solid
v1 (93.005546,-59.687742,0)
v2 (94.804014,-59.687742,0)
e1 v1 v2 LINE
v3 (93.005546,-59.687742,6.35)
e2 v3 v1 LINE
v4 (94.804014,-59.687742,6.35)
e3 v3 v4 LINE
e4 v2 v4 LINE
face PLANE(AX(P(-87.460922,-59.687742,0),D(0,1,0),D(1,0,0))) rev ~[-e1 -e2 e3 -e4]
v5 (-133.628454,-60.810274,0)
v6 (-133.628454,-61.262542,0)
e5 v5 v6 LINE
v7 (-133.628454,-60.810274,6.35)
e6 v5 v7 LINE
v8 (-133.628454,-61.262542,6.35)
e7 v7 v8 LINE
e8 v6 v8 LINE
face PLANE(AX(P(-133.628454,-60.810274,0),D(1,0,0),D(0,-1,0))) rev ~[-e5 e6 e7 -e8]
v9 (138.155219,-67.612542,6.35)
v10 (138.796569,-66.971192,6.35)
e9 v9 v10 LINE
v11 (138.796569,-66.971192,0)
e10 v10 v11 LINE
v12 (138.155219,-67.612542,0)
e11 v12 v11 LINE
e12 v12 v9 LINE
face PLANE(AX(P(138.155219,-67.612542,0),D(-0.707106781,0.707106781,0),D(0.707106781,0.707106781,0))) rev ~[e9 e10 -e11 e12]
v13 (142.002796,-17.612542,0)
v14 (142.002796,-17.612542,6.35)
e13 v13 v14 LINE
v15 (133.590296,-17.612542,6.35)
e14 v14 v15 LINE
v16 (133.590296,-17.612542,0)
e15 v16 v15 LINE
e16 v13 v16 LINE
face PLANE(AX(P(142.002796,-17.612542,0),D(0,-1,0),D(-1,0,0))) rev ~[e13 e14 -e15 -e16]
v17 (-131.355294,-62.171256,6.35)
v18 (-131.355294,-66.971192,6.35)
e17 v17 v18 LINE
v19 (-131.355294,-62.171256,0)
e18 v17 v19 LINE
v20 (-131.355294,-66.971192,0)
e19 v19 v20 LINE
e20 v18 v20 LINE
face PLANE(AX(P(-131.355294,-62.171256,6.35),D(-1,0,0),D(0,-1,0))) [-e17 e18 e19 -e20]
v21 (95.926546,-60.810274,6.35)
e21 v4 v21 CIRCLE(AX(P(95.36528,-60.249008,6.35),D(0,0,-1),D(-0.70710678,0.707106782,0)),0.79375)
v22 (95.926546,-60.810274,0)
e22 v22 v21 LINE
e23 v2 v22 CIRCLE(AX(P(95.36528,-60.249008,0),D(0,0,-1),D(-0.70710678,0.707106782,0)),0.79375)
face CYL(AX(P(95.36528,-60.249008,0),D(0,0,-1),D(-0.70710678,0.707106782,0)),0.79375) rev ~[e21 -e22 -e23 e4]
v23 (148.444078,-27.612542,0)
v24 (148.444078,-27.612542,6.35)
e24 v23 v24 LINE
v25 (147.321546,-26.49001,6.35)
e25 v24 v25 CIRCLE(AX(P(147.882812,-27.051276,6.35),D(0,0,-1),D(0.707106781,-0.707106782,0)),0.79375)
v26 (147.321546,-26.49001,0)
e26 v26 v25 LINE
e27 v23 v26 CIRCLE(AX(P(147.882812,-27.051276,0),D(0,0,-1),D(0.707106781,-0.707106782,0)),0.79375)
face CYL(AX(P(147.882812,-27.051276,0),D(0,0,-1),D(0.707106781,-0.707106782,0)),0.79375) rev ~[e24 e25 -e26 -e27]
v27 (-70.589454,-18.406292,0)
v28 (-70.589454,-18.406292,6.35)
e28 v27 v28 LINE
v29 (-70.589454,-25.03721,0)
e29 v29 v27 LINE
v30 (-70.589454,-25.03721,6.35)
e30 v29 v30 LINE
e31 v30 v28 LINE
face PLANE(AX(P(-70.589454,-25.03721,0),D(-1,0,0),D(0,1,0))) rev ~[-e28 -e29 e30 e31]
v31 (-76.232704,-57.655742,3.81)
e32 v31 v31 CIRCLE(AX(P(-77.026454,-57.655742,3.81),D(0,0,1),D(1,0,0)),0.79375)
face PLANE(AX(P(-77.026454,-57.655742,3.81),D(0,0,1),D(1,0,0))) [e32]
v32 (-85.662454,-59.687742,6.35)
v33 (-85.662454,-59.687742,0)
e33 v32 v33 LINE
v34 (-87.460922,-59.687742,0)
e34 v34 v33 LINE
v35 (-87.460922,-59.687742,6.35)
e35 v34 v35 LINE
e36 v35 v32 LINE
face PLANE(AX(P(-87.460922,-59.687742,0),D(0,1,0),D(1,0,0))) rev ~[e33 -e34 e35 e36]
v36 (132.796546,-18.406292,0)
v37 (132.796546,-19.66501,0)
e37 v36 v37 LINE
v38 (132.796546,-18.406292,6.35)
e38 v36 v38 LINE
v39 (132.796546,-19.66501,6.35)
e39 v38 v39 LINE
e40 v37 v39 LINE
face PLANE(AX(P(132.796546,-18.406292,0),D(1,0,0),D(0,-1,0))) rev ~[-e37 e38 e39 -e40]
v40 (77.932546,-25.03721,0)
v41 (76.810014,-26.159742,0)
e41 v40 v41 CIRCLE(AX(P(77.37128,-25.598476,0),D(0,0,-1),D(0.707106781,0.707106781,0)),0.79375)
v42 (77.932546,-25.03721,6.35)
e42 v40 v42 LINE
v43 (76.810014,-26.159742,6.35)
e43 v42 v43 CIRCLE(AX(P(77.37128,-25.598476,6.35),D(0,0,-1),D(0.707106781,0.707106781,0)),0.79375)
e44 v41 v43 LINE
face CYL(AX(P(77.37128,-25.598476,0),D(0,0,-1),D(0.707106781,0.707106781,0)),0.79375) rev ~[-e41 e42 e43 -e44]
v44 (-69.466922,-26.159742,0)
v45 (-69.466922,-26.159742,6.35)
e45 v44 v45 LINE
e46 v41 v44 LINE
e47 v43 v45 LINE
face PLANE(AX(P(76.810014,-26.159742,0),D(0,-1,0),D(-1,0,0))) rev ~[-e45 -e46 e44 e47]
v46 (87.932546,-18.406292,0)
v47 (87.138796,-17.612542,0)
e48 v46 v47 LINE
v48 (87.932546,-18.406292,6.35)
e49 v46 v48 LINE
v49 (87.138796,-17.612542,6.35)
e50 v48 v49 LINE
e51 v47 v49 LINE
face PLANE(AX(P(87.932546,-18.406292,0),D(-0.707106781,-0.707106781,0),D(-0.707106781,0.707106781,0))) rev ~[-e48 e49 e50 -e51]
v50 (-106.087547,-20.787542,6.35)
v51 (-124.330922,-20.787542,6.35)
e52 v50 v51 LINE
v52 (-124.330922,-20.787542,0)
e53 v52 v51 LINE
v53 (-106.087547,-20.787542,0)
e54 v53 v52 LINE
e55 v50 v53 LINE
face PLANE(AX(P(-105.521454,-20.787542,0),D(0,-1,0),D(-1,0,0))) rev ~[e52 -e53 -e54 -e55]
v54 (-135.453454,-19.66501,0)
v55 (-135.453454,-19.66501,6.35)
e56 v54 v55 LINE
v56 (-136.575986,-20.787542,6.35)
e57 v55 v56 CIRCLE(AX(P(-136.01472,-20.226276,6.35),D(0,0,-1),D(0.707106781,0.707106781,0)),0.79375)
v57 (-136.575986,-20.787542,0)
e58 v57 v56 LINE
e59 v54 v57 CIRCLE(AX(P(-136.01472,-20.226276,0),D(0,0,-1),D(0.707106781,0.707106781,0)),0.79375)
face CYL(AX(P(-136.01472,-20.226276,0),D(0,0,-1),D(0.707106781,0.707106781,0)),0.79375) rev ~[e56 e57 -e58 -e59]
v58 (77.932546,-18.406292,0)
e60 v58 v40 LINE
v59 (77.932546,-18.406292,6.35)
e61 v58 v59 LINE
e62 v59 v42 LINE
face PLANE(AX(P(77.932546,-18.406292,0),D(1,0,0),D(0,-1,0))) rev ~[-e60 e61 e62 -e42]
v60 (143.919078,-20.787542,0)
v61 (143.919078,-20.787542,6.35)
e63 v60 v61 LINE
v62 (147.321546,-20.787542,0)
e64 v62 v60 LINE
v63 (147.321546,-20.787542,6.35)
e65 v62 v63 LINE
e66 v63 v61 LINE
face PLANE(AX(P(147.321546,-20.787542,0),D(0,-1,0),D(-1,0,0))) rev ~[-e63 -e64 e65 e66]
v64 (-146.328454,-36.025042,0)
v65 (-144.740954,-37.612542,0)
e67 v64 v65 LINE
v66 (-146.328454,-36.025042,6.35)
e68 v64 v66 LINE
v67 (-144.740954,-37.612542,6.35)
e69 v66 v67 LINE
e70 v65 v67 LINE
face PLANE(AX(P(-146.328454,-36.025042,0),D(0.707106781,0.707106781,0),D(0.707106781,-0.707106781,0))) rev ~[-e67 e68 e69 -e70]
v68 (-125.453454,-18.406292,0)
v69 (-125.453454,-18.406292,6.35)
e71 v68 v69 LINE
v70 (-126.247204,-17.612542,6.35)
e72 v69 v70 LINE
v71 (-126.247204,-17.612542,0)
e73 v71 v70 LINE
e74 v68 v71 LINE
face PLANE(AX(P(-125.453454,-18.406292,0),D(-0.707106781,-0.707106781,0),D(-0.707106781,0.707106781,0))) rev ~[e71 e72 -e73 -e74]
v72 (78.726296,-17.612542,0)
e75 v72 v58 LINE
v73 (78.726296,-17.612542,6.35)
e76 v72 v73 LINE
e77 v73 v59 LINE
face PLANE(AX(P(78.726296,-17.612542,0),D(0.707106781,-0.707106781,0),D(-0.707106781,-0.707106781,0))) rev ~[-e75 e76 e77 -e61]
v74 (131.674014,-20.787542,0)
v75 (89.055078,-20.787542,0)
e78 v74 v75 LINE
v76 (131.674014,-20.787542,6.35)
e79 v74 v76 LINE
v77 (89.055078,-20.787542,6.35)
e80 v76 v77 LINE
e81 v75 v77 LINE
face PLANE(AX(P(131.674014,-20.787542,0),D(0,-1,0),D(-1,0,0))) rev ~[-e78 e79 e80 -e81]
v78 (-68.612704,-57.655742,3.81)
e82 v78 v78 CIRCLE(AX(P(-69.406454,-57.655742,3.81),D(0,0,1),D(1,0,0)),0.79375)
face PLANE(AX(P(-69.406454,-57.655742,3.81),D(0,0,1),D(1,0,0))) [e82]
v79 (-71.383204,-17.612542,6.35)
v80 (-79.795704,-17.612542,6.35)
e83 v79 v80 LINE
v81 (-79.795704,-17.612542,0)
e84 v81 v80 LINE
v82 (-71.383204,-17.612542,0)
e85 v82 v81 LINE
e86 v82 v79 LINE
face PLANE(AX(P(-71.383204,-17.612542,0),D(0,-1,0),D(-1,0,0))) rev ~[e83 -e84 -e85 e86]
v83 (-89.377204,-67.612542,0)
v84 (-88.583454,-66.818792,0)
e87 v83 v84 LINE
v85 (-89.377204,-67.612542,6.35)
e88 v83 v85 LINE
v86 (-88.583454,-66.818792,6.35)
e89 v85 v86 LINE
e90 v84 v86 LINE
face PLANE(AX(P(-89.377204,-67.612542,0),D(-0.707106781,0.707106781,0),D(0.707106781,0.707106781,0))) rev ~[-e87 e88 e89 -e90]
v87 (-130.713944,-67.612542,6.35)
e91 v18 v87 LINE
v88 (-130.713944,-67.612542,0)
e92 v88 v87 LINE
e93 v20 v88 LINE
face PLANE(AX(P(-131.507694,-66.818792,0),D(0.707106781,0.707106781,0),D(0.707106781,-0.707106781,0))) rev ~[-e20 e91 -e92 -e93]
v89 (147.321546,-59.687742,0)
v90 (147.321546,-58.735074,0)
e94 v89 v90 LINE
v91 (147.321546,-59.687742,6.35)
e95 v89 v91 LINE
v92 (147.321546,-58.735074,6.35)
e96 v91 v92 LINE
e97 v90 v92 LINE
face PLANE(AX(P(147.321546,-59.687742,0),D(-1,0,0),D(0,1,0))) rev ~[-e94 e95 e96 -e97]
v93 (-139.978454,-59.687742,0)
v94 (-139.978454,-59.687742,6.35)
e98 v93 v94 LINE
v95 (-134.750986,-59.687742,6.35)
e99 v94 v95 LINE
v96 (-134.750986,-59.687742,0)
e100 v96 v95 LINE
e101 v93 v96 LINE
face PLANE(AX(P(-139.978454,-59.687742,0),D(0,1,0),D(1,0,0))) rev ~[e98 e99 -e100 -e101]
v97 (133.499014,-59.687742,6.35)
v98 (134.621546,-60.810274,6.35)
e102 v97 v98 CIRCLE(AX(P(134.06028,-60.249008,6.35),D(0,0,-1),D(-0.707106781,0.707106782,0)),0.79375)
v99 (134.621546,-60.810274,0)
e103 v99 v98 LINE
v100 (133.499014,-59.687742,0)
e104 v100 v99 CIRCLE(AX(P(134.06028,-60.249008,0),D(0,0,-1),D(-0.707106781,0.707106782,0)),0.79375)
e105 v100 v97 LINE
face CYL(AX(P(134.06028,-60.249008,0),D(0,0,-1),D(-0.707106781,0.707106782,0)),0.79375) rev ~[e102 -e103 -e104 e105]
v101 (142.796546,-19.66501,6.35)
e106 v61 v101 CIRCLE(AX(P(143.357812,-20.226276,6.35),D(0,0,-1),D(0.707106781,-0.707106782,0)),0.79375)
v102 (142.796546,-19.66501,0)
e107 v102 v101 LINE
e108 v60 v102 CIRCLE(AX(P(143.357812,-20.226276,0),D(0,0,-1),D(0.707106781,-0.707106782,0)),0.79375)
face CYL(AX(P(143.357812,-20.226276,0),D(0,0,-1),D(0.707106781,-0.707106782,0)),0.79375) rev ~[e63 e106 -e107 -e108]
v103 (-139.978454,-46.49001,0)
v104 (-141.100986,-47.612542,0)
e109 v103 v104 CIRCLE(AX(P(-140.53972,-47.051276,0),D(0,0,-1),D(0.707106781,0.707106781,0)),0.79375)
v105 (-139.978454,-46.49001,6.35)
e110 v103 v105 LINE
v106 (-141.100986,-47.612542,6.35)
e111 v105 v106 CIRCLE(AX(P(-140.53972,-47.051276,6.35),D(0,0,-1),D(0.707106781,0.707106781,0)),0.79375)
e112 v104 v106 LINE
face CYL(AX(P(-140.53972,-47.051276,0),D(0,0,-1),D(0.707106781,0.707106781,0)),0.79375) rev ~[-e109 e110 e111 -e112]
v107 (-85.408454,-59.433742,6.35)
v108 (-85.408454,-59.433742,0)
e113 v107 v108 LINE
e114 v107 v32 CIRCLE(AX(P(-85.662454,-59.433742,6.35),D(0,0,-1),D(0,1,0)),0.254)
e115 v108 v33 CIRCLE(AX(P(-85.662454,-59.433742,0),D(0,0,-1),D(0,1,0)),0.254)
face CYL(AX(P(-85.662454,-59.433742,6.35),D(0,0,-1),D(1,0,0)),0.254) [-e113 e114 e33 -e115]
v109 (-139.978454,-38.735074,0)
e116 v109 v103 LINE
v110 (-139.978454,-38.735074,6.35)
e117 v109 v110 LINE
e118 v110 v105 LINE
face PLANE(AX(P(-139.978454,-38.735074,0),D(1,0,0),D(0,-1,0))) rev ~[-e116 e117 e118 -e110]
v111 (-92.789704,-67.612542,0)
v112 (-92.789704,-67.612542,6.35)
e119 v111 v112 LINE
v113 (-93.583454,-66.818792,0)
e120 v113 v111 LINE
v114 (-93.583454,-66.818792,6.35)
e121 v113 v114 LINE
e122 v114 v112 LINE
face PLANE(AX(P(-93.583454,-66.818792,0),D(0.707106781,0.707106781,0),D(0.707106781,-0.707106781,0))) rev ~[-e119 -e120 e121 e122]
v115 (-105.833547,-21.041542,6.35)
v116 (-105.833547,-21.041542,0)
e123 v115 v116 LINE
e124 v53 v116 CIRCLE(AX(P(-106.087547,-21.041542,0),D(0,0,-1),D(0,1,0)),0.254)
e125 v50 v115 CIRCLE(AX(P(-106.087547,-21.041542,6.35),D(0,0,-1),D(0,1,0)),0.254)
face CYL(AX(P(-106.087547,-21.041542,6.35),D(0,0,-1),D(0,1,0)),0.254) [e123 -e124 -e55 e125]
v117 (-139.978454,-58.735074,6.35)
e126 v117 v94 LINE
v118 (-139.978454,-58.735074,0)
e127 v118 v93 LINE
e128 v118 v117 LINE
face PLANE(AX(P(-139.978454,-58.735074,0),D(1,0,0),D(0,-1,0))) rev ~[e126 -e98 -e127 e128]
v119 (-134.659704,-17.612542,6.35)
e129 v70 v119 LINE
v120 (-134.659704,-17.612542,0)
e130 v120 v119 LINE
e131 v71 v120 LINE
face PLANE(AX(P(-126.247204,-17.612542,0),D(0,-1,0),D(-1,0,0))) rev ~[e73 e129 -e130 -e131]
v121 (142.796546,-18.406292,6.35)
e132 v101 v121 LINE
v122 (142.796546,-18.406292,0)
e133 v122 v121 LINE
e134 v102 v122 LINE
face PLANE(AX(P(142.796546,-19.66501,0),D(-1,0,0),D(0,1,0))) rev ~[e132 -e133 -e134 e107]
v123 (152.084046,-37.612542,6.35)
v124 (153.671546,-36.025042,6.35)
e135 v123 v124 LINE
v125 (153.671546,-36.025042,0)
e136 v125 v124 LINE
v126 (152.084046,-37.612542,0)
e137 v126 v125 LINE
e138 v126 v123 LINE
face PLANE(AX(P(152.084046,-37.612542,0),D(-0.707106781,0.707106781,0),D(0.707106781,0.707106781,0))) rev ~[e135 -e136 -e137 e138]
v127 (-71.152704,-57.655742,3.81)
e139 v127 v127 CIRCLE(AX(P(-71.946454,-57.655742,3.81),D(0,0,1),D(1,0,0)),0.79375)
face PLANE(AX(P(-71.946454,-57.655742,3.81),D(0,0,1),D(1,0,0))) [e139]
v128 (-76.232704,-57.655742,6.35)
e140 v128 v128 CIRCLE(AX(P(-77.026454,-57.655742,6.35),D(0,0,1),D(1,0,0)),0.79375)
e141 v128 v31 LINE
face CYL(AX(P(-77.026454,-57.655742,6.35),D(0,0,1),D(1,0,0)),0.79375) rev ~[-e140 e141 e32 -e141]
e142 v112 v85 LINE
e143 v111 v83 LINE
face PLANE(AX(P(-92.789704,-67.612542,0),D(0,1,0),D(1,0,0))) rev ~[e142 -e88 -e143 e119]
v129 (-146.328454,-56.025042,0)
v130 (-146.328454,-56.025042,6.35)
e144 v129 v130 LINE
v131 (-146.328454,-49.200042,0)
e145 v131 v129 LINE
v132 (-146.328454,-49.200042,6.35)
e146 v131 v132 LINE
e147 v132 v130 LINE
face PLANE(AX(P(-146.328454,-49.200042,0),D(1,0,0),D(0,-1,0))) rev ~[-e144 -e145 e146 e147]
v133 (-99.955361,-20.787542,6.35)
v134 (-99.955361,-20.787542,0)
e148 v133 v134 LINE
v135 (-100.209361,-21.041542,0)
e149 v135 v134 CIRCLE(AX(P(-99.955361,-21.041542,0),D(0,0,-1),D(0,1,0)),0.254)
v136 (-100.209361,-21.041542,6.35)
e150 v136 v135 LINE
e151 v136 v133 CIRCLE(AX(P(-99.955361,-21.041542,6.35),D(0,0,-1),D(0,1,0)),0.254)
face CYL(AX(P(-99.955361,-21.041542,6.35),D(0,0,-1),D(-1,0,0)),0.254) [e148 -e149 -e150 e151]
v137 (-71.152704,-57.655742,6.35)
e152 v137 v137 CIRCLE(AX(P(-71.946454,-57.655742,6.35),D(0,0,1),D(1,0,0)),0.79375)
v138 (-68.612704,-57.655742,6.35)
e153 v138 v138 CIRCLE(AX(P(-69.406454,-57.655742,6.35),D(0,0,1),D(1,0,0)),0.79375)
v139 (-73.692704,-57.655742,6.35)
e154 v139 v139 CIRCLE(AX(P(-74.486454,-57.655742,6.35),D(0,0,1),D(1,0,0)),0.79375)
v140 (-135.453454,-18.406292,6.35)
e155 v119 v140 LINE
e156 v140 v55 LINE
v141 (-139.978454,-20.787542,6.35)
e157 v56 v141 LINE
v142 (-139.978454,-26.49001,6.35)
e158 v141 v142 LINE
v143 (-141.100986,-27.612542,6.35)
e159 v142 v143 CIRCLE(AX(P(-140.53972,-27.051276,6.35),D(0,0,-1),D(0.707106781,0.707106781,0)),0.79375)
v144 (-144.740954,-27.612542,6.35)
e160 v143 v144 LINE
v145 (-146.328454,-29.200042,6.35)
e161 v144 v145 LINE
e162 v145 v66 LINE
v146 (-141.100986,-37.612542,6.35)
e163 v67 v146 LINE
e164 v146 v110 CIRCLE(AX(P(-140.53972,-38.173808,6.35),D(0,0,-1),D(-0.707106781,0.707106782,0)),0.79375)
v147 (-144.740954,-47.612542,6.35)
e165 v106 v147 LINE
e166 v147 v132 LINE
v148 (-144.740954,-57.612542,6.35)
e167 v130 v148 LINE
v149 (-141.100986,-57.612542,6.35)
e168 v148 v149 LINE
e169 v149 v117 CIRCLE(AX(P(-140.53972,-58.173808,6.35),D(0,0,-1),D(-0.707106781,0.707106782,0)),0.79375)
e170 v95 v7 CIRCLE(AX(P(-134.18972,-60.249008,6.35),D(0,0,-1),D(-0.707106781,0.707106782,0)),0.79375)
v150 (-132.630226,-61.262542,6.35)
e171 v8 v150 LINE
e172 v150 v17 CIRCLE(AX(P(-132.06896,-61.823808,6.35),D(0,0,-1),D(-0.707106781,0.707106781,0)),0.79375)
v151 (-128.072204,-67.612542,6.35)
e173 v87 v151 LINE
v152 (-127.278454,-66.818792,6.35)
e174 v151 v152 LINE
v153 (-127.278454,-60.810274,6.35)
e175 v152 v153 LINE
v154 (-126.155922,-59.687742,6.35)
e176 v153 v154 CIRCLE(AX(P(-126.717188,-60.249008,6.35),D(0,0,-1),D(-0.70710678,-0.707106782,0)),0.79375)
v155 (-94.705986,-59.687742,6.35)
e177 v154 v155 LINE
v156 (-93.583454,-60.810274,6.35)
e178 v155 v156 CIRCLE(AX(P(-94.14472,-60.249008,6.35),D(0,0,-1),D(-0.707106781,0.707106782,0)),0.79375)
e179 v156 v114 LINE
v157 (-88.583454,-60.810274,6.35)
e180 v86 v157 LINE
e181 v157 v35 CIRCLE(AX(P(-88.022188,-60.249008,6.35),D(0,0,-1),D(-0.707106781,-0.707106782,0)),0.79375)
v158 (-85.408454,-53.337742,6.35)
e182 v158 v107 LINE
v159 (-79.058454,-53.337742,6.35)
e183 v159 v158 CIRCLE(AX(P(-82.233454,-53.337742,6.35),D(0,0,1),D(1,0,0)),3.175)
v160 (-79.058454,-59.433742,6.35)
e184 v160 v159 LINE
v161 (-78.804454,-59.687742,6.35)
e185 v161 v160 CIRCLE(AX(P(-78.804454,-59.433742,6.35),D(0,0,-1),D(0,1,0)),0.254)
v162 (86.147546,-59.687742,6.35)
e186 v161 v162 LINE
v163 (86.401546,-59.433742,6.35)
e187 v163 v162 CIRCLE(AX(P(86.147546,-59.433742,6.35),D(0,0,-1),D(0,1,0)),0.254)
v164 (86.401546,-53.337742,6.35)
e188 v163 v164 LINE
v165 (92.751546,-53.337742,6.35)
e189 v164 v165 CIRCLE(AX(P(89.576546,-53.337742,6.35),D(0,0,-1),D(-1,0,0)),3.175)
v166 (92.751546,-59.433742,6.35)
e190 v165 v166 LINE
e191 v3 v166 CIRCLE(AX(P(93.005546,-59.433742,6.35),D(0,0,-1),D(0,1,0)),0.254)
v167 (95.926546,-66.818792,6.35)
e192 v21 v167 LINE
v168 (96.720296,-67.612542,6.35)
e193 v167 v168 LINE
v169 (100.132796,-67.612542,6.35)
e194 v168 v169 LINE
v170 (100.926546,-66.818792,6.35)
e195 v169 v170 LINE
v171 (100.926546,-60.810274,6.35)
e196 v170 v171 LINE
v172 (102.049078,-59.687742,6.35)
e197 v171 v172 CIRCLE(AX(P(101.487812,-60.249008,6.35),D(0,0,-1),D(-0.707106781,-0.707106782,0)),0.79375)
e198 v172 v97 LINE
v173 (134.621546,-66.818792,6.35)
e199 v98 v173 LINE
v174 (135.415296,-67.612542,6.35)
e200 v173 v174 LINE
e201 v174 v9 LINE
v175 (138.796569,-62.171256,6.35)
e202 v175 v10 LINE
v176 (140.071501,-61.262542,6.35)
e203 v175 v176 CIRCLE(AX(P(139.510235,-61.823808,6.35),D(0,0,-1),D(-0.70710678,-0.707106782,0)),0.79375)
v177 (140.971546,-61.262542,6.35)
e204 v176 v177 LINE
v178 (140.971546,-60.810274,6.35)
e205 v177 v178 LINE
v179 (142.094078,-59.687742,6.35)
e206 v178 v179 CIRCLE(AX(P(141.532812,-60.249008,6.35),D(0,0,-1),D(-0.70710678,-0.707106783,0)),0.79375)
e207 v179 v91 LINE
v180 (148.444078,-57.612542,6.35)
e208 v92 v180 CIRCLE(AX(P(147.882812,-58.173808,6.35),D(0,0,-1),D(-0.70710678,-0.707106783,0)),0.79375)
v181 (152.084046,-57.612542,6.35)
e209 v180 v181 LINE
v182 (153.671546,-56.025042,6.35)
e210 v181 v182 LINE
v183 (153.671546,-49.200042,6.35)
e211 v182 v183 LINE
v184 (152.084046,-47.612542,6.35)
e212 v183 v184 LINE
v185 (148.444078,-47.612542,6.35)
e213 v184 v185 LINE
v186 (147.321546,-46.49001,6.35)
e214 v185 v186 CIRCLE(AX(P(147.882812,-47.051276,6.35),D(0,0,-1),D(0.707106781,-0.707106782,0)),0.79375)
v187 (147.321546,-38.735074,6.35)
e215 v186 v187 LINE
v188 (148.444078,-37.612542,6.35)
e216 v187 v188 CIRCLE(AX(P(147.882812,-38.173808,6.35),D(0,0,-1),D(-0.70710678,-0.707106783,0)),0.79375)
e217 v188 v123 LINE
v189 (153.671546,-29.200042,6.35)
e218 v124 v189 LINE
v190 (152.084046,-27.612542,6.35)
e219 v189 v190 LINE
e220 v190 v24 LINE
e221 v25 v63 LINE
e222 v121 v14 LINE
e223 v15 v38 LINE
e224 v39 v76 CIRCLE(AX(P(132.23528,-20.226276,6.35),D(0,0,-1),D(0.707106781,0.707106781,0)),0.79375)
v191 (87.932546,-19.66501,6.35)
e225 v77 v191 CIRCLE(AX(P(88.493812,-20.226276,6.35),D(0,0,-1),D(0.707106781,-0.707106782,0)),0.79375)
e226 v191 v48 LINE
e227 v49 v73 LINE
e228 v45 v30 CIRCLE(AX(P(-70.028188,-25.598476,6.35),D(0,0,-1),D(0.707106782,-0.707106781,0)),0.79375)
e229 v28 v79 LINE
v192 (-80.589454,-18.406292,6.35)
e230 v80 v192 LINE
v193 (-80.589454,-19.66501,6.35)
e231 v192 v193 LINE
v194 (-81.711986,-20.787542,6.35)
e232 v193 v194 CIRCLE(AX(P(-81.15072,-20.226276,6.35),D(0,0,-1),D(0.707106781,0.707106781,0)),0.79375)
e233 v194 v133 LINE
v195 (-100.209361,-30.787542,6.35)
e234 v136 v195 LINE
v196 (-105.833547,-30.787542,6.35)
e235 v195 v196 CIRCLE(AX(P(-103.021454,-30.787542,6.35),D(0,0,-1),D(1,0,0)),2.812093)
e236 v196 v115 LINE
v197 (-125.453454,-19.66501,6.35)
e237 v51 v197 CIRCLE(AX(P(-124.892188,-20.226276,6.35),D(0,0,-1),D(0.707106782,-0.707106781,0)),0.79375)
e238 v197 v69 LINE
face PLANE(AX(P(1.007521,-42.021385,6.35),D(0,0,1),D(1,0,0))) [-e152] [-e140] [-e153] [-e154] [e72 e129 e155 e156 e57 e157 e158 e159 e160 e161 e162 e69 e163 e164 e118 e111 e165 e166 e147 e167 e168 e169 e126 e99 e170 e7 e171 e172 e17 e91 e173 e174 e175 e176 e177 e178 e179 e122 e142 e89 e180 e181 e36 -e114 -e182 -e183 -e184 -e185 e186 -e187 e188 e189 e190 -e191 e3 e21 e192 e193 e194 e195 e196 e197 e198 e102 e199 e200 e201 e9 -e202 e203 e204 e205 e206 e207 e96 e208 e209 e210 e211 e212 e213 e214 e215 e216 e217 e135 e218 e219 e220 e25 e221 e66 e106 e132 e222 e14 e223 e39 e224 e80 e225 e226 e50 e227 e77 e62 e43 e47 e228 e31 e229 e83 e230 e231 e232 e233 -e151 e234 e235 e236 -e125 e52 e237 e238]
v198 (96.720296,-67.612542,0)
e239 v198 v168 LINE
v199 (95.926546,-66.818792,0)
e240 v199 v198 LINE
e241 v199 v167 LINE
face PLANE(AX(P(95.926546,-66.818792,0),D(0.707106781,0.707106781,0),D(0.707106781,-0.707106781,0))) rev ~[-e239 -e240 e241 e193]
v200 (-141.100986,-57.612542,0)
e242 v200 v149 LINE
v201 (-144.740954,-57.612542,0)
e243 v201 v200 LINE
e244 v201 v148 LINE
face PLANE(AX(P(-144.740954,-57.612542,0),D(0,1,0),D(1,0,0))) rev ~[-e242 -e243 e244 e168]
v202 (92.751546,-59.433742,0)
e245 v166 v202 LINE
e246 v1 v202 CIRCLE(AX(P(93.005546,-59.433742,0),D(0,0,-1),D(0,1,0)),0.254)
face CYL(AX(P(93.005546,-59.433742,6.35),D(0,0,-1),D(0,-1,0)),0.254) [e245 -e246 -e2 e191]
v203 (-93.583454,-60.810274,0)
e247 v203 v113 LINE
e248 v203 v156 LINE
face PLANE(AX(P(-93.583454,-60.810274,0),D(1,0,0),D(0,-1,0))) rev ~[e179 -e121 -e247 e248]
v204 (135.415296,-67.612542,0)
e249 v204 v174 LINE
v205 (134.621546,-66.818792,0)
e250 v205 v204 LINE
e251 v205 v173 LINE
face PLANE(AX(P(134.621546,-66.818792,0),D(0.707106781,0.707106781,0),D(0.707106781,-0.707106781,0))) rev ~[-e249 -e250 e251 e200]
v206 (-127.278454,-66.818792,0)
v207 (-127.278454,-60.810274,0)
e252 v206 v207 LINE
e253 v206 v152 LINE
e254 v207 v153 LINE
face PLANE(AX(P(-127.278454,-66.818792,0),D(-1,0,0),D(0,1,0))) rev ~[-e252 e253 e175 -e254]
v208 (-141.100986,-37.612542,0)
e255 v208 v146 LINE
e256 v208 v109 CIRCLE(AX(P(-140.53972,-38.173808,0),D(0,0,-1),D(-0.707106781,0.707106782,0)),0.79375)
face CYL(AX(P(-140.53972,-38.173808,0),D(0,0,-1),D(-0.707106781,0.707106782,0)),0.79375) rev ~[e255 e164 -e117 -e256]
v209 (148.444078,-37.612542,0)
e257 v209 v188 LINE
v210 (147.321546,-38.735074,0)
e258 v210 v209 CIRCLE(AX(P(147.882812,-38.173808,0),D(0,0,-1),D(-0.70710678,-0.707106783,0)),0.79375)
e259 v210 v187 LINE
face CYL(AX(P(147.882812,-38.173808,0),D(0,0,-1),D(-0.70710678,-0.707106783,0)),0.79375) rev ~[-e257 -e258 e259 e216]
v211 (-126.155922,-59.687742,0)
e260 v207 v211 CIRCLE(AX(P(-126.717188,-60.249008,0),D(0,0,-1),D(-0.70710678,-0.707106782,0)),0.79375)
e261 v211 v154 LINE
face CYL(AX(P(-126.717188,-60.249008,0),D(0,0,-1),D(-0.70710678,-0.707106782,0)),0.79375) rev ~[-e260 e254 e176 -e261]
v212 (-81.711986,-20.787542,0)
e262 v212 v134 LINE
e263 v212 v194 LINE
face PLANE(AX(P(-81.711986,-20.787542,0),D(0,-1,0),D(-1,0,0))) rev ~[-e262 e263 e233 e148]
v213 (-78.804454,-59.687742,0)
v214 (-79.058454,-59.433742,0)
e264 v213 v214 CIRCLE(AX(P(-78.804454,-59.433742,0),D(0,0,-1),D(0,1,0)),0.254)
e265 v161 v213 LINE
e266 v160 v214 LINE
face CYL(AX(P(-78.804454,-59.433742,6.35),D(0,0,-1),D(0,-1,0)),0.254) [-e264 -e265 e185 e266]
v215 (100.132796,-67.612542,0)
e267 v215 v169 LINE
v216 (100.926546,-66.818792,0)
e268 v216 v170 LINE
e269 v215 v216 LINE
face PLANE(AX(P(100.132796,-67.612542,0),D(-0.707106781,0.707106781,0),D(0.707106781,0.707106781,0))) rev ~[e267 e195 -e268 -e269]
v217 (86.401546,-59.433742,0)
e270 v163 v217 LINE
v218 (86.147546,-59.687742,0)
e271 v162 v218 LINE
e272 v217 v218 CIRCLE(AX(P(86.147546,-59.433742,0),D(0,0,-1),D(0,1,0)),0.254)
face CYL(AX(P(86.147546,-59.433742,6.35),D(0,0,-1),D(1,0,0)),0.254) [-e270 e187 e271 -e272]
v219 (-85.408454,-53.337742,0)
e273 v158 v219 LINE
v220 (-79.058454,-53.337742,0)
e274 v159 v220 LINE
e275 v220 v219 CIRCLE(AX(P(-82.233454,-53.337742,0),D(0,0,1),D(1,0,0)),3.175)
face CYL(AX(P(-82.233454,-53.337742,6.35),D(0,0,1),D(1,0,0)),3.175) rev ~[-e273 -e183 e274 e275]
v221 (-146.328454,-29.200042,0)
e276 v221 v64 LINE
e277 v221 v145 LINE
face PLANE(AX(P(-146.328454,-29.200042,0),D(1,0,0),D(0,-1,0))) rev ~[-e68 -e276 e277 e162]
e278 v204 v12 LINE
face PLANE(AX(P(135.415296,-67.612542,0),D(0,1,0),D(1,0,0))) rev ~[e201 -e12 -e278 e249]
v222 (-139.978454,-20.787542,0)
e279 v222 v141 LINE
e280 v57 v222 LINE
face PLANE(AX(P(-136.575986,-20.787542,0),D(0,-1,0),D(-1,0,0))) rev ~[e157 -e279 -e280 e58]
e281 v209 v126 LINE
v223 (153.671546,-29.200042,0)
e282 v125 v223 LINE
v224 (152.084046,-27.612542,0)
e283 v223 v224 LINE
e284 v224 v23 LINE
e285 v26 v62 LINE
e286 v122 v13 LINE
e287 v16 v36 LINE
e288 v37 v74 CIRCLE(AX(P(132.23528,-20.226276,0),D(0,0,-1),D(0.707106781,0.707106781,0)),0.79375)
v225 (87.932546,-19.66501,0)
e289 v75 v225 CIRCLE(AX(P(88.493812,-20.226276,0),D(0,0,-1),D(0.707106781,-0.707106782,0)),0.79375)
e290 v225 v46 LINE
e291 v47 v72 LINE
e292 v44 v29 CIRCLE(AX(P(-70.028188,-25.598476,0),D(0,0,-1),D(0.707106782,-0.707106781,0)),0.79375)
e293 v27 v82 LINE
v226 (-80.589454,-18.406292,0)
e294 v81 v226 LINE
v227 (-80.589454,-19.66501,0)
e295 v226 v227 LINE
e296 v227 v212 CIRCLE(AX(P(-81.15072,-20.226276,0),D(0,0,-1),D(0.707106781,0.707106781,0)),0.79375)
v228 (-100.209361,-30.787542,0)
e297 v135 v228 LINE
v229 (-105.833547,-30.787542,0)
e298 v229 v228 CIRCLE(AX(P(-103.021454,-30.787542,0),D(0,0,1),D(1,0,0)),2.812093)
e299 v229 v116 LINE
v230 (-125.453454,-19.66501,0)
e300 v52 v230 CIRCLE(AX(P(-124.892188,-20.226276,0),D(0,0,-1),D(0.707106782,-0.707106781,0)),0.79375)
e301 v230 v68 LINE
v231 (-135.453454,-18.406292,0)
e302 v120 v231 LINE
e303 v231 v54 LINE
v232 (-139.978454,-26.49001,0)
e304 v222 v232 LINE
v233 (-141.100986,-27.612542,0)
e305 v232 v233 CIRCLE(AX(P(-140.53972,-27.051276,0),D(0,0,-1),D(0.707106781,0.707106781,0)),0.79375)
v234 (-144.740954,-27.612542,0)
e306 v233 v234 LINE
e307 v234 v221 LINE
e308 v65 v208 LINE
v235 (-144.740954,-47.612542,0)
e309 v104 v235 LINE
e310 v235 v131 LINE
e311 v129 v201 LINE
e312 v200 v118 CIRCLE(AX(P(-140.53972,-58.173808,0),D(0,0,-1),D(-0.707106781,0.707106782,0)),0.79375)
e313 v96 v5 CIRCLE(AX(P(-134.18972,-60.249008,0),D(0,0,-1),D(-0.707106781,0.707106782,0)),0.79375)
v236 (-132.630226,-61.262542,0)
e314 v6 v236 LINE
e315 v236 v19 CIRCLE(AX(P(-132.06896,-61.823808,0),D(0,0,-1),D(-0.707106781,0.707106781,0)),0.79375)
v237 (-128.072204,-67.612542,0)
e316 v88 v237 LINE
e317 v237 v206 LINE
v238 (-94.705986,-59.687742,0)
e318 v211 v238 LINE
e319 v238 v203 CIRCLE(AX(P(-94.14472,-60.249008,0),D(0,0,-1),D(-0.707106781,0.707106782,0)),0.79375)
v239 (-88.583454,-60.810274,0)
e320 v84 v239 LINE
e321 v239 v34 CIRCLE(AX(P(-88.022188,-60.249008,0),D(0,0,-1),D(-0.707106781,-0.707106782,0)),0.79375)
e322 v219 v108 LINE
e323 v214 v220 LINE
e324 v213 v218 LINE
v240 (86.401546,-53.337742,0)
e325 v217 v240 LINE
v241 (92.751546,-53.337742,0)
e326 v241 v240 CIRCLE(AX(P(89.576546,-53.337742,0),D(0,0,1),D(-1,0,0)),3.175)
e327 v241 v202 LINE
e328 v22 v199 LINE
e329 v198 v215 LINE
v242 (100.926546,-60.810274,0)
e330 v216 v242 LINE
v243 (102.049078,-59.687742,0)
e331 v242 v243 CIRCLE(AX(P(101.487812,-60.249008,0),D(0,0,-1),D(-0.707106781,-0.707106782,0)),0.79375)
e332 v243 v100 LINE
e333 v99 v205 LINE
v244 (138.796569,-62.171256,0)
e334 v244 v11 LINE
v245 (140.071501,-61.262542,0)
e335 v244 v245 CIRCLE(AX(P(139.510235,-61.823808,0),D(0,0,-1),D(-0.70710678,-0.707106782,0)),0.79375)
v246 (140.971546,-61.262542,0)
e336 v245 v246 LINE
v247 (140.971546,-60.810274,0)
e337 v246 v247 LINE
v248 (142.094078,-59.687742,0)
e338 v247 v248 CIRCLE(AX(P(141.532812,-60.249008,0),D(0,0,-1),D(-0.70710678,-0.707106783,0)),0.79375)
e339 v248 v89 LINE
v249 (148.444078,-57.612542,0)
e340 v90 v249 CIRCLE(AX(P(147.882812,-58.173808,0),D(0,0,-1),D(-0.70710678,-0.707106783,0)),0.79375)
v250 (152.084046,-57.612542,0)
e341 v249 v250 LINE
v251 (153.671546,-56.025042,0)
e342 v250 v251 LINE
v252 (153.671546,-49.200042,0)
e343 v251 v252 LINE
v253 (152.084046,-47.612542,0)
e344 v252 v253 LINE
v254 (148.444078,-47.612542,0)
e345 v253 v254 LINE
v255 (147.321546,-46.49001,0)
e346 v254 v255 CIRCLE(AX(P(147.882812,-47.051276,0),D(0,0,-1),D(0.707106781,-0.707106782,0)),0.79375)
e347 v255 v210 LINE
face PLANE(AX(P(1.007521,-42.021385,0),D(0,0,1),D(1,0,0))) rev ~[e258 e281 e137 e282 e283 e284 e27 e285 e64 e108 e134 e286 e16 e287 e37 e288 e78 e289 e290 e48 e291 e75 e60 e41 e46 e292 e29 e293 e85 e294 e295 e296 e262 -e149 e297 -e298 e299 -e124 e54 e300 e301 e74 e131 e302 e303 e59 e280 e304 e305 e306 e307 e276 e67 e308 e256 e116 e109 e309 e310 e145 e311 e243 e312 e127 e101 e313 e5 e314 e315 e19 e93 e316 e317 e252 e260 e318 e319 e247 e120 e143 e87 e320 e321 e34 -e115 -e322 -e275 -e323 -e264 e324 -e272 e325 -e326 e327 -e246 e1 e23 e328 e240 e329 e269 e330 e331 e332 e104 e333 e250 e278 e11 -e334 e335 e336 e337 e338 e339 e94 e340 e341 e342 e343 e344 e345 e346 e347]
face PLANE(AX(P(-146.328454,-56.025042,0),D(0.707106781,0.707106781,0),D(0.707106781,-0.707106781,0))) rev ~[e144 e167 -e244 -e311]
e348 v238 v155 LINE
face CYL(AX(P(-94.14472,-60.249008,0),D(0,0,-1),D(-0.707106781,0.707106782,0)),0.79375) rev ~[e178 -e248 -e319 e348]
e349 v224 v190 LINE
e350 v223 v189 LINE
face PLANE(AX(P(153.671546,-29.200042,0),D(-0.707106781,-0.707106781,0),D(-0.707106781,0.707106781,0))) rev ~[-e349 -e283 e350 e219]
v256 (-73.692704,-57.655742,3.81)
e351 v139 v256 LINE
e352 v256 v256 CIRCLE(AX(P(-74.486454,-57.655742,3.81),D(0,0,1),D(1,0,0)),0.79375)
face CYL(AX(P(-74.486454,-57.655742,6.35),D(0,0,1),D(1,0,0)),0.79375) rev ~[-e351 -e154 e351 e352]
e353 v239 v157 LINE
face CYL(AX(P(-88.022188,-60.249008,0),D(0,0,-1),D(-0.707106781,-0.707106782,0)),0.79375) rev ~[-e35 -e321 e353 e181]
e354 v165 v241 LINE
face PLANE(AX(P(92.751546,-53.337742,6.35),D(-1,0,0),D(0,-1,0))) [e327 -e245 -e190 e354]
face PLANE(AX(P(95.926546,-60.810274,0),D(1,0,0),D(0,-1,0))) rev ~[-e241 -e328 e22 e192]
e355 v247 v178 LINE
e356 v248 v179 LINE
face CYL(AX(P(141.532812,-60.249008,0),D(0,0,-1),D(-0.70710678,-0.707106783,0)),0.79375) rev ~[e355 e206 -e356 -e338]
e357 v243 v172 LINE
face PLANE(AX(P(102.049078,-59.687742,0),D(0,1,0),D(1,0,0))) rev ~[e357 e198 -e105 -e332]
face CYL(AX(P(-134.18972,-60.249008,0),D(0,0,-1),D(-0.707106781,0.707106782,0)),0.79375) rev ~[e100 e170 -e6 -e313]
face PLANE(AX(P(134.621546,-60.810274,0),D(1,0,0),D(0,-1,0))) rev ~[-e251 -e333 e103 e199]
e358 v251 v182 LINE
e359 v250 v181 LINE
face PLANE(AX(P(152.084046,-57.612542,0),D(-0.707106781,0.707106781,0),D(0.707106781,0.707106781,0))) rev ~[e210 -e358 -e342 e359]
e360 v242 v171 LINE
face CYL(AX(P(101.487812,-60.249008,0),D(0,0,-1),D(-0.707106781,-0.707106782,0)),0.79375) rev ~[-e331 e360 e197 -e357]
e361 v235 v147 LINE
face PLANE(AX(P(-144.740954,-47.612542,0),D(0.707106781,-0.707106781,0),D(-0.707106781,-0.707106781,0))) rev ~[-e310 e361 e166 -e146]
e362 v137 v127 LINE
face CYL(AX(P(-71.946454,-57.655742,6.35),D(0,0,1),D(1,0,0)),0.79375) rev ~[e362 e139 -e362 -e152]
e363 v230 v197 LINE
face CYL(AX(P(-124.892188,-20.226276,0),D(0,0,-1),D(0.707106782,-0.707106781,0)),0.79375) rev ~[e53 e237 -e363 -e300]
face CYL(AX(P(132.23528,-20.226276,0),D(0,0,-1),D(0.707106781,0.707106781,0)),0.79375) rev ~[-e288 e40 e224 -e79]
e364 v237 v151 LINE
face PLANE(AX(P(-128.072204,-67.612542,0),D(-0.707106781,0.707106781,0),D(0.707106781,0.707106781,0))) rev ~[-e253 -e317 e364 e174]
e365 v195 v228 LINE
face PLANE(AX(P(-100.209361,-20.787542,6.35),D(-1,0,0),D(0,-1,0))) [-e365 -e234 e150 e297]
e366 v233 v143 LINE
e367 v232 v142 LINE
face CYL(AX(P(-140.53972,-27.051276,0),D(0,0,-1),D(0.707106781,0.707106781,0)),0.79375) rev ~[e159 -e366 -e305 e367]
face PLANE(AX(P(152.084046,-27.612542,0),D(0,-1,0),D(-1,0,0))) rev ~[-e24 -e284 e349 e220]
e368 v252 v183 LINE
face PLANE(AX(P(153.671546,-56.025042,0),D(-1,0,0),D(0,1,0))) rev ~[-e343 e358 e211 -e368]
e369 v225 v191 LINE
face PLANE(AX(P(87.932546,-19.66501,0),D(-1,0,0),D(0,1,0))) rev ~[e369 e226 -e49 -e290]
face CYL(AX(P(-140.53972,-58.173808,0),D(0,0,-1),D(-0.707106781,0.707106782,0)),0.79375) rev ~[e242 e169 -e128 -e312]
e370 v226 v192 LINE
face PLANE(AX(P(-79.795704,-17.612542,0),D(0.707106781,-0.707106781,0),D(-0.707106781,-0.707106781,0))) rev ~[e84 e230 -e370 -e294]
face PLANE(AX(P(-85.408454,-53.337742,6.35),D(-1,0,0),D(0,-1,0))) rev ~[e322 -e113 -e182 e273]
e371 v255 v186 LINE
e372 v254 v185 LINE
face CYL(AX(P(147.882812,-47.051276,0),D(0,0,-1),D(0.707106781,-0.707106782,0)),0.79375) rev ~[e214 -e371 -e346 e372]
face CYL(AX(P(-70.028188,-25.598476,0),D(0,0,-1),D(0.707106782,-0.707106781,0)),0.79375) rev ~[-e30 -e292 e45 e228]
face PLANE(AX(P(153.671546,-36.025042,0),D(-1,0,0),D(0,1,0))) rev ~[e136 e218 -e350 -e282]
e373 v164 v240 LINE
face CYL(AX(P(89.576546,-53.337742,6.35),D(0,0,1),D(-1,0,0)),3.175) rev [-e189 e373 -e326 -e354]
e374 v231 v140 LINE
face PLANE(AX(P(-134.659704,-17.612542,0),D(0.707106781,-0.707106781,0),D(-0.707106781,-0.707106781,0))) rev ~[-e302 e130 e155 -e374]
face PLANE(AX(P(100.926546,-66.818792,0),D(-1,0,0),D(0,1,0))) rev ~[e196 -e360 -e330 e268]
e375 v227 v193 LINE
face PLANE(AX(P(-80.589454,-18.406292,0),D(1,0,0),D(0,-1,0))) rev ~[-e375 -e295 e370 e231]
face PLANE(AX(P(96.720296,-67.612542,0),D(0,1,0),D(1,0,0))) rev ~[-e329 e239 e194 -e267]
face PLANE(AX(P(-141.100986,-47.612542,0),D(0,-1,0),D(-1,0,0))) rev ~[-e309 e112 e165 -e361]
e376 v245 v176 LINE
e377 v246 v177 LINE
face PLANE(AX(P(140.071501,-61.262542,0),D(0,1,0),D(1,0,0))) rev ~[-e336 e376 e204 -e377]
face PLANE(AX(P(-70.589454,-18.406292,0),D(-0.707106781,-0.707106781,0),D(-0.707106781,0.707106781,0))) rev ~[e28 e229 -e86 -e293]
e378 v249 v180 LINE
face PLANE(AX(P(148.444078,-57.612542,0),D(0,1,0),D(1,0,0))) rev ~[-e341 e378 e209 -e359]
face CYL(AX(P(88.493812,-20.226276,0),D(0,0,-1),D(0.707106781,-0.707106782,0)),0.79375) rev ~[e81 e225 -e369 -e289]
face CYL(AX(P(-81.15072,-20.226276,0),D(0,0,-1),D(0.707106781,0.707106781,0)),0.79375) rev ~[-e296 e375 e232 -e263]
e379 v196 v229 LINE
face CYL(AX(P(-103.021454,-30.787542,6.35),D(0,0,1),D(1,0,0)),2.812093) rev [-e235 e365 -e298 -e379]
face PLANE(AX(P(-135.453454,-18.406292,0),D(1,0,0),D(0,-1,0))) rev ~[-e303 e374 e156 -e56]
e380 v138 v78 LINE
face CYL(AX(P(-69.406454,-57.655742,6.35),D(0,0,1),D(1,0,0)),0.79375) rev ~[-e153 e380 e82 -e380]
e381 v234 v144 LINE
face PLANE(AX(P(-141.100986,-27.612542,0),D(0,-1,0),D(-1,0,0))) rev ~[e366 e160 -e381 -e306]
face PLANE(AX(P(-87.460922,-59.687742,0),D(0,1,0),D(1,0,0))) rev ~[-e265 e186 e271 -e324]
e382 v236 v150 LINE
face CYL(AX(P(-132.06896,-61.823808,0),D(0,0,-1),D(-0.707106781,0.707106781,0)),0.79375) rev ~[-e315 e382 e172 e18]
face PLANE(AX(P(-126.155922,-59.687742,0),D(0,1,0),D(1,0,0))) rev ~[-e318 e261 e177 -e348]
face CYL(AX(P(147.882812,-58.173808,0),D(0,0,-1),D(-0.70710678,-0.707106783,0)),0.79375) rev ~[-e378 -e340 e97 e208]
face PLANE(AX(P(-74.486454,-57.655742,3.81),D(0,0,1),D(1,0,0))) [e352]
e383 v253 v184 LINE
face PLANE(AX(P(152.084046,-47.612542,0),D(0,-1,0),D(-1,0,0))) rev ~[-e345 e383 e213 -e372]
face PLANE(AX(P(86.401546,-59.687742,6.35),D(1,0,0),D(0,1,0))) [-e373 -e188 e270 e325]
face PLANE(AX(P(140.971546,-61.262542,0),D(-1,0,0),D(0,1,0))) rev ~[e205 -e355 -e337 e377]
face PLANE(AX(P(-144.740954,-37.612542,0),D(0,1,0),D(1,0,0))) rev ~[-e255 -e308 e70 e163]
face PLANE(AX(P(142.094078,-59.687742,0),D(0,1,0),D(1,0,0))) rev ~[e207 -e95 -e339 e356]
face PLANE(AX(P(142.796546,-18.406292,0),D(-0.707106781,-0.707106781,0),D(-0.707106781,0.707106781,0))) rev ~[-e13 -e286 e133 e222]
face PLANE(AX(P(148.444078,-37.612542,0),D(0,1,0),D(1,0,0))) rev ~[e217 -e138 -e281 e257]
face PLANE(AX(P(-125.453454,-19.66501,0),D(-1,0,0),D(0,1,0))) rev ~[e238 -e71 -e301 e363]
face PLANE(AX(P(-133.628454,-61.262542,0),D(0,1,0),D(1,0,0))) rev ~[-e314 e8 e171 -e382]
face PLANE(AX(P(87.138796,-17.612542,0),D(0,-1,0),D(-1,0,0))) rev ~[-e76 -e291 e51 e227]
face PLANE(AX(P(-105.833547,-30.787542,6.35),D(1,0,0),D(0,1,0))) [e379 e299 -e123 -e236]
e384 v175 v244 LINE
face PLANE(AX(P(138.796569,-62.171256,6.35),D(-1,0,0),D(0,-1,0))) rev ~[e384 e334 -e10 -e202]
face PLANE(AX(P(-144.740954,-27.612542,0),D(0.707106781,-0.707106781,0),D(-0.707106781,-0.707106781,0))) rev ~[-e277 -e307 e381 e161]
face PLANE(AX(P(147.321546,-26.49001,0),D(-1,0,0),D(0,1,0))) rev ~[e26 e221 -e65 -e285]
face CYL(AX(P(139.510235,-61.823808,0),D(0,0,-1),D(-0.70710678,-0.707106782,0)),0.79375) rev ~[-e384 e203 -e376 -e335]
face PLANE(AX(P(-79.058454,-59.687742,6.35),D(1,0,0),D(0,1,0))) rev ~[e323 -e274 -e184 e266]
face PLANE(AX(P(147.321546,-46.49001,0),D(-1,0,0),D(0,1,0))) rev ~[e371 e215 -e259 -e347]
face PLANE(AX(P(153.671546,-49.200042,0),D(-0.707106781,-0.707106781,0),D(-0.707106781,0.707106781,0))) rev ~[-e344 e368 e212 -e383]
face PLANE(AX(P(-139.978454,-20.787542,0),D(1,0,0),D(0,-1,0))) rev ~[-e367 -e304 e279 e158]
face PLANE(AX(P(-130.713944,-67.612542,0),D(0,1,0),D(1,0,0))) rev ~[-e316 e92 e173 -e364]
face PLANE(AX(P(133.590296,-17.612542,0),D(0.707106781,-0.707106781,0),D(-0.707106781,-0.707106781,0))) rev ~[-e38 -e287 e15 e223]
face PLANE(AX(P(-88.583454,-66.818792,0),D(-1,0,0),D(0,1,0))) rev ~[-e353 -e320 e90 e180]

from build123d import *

# Parameters (mm, degrees)
BOSS_EXTRUDE1_DEPTH = 6.35
CUT_EXTRUDE2_DEPTH  = 169.008101823
CUT_EXTRUDE3_DEPTH  = 169.008101823
CUT_EXTRUDE4_DEPTH  = 169.008101823
FILLET1_R           = 0.254
SKETCH7_R           = 0.79375
CUT_EXTRUDE5_DEPTH  = 2.54
LPATTERN1_COUNT     = 4
LPATTERN1_PITCH     = 2.54


with BuildPart() as part:
    # Model → Boss-Extrude1 (new body)
    with BuildSketch(Plane.XY):
        with BuildLine():
            Line((138.15521867, -67.612541882), (138.94896867, -66.818791882))
            Line((138.94896867, -66.818791882), (138.94896867, -62.385073899))
            ThreePointArc((138.94896867, -62.385073899), (138.948968669, -61.262541883), (140.071500684, -61.262541882))
            Line((140.071500684, -61.262541882), (140.971545702, -61.262541882))
            Line((140.971545702, -61.262541882), (140.971545702, -60.810273899))
            ThreePointArc((140.971545702, -60.810273899), (140.9715457, -59.687741883), (142.094077716, -59.687741882))
            Line((142.094077716, -59.687741882), (147.321545702, -59.687741882))
            Line((147.321545702, -59.687741882), (147.321545702, -58.735073899))
            ThreePointArc((147.321545702, -58.735073899), (147.3215457, -57.612541883), (148.444077716, -57.612541882))
            Line((148.444077716, -57.612541882), (152.084045702, -57.612541882))
            Line((152.084045702, -57.612541882), (153.671545702, -56.025041882))
            Line((153.671545702, -56.025041882), (153.671545702, -49.200041882))
            Line((153.671545702, -49.200041882), (152.084045702, -47.612541882))
            Line((152.084045702, -47.612541882), (148.444077716, -47.612541882))
            ThreePointArc((148.444077716, -47.612541882), (147.321545702, -47.612541882), (147.321545702, -46.490009867))
            Line((147.321545702, -46.490009867), (147.321545702, -38.735073899))
            ThreePointArc((147.321545702, -38.735073899), (147.3215457, -37.612541883), (148.444077716, -37.612541882))
            Line((148.444077716, -37.612541882), (152.084045702, -37.612541882))
            Line((152.084045702, -37.612541882), (153.671545702, -36.025041882))
            Line((153.671545702, -36.025041882), (153.671545702, -29.200041882))
            Line((153.671545702, -29.200041882), (152.084045702, -27.612541882))
            Line((152.084045702, -27.612541882), (148.444077716, -27.612541882))
            ThreePointArc((148.444077716, -27.612541882), (147.321545702, -27.612541882), (147.321545702, -26.490009867))
            Line((147.321545702, -26.490009867), (147.321545702, -20.787541882))
            Line((147.321545702, -20.787541882), (143.919077716, -20.787541882))
            ThreePointArc((143.919077716, -20.787541882), (142.796545702, -20.787541882), (142.796545702, -19.665009867))
            Line((142.796545702, -19.665009867), (142.796545702, -18.406291882))
            Line((142.796545702, -18.406291882), (142.002795702, -17.612541882))
            Line((142.002795702, -17.612541882), (133.590295702, -17.612541882))
            Line((133.590295702, -17.612541882), (132.796545702, -18.406291882))
            Line((132.796545702, -18.406291882), (132.796545702, -19.665009867))
            ThreePointArc((132.796545702, -19.665009867), (132.796545702, -20.787541882), (131.674013687, -20.787541882))
            Line((131.674013687, -20.787541882), (89.055077716, -20.787541882))
            ThreePointArc((89.055077716, -20.787541882), (87.932545702, -20.787541882), (87.932545702, -19.665009867))
            Line((87.932545702, -19.665009867), (87.932545702, -18.406291882))
            Line((87.932545702, -18.406291882), (87.138795702, -17.612541882))
            Line((87.138795702, -17.612541882), (78.726295702, -17.612541882))
            Line((78.726295702, -17.612541882), (77.932545702, -18.406291882))
            Line((77.932545702, -18.406291882), (77.932545702, -25.037209867))
            ThreePointArc((77.932545702, -25.037209867), (77.932545702, -26.159741882), (76.810013687, -26.159741882))
            Line((76.810013687, -26.159741882), (-69.46692228, -26.159741882))
            ThreePointArc((-69.46692228, -26.159741882), (-70.589454296, -26.159741883), (-70.589454297, -25.037209867))
            Line((-70.589454297, -25.037209867), (-70.589454297, -18.406291882))
            Line((-70.589454297, -18.406291882), (-71.383204297, -17.612541882))
            Line((-71.383204297, -17.612541882), (-79.795704297, -17.612541882))
            Line((-79.795704297, -17.612541882), (-80.589454297, -18.406291882))
            Line((-80.589454297, -18.406291882), (-80.589454297, -19.665009867))
            ThreePointArc((-80.589454297, -19.665009867), (-80.589454297, -20.787541882), (-81.711986312, -20.787541882))
            Line((-81.711986312, -20.787541882), (-100.521454296, -20.787541882))
            Line((-100.521454296, -20.787541882), (-100.521454296, -29.665009867))
            ThreePointArc((-100.521454296, -29.665009867), (-100.521454296, -30.787541882), (-101.64398631, -30.787541882))
            Line((-101.64398631, -30.787541882), (-104.398922281, -30.787541882))
            ThreePointArc((-104.398922281, -30.787541882), (-105.521454296, -30.787541882), (-105.521454296, -29.665009867))
            Line((-105.521454296, -29.665009867), (-105.521454296, -20.787541882))
            Line((-105.521454296, -20.787541882), (-124.33092228, -20.787541882))
            ThreePointArc((-124.33092228, -20.787541882), (-125.453454296, -20.787541883), (-125.453454297, -19.665009867))
            Line((-125.453454297, -19.665009867), (-125.453454297, -18.406291882))
            Line((-125.453454297, -18.406291882), (-126.247204297, -17.612541882))
            Line((-126.247204297, -17.612541882), (-134.659704297, -17.612541882))
            Line((-134.659704297, -17.612541882), (-135.453454297, -18.406291882))
            Line((-135.453454297, -18.406291882), (-135.453454297, -19.665009867))
            ThreePointArc((-135.453454297, -19.665009867), (-135.453454297, -20.787541882), (-136.575986312, -20.787541882))
            Line((-136.575986312, -20.787541882), (-139.978454297, -20.787541882))
            Line((-139.978454297, -20.787541882), (-139.978454297, -26.490009867))
            ThreePointArc((-139.978454297, -26.490009867), (-139.978454297, -27.612541882), (-141.100986312, -27.612541882))
            Line((-141.100986312, -27.612541882), (-144.740954297, -27.612541882))
            Line((-144.740954297, -27.612541882), (-146.328454297, -29.200041882))
            Line((-146.328454297, -29.200041882), (-146.328454297, -36.025041882))
            Line((-146.328454297, -36.025041882), (-144.740954297, -37.612541882))
            Line((-144.740954297, -37.612541882), (-141.100986312, -37.612541882))
            ThreePointArc((-141.100986312, -37.612541882), (-139.978454296, -37.612541883), (-139.978454297, -38.735073899))
            Line((-139.978454297, -38.735073899), (-139.978454297, -46.490009867))
            ThreePointArc((-139.978454297, -46.490009867), (-139.978454297, -47.612541882), (-141.100986312, -47.612541882))
            Line((-141.100986312, -47.612541882), (-144.740954297, -47.612541882))
            Line((-144.740954297, -47.612541882), (-146.328454297, -49.200041882))
            Line((-146.328454297, -49.200041882), (-146.328454297, -56.025041882))
            Line((-146.328454297, -56.025041882), (-144.740954297, -57.612541882))
            Line((-144.740954297, -57.612541882), (-141.100986312, -57.612541882))
            ThreePointArc((-141.100986312, -57.612541882), (-139.978454296, -57.612541883), (-139.978454297, -58.735073899))
            Line((-139.978454297, -58.735073899), (-139.978454297, -59.687741882))
            Line((-139.978454297, -59.687741882), (-134.750986312, -59.687741882))
            ThreePointArc((-134.750986312, -59.687741882), (-133.628454296, -59.687741883), (-133.628454297, -60.810273899))
            Line((-133.628454297, -60.810273899), (-133.628454297, -61.262541882))
            Line((-133.628454297, -61.262541882), (-132.630226339, -61.262541882))
            ThreePointArc((-132.630226339, -61.262541882), (-131.507694322, -61.262541882), (-131.507694322, -62.385073899))
            Line((-131.507694322, -62.385073899), (-131.507694322, -66.818791882))
            Line((-131.507694322, -66.818791882), (-130.713944322, -67.612541882))
            Line((-130.713944322, -67.612541882), (-128.072204297, -67.612541882))
            Line((-128.072204297, -67.612541882), (-127.278454297, -66.818791882))
            Line((-127.278454297, -66.818791882), (-127.278454297, -60.810273899))
            ThreePointArc((-127.278454297, -60.810273899), (-127.278454298, -59.687741883), (-126.155922283, -59.687741882))
            Line((-126.155922283, -59.687741882), (-94.70598631, -59.687741882))
            ThreePointArc((-94.70598631, -59.687741882), (-93.583454294, -59.687741883), (-93.583454296, -60.810273899))
            Line((-93.583454296, -60.810273899), (-93.583454296, -66.818791882))
            Line((-93.583454296, -66.818791882), (-92.789704296, -67.612541882))
            Line((-92.789704296, -67.612541882), (-89.377204296, -67.612541882))
            Line((-89.377204296, -67.612541882), (-88.583454296, -66.818791882))
            Line((-88.583454296, -66.818791882), (-88.583454296, -60.810273899))
            ThreePointArc((-88.583454296, -60.810273899), (-88.583454297, -59.687741883), (-87.460922281, -59.687741882))
            Line((-87.460922281, -59.687741882), (94.804013689, -59.687741882))
            ThreePointArc((94.804013689, -59.687741882), (95.926545704, -59.687741883), (95.926545703, -60.810273899))
            Line((95.926545703, -60.810273899), (95.926545703, -66.818791882))
            Line((95.926545703, -66.818791882), (96.720295703, -67.612541882))
            Line((96.720295703, -67.612541882), (100.132795703, -67.612541882))
            Line((100.132795703, -67.612541882), (100.926545703, -66.818791882))
            Line((100.926545703, -66.818791882), (100.926545703, -60.810273899))
            ThreePointArc((100.926545703, -60.810273899), (100.926545702, -59.687741883), (102.049077718, -59.687741882))
            Line((102.049077718, -59.687741882), (133.499013687, -59.687741882))
            ThreePointArc((133.499013687, -59.687741882), (134.621545703, -59.687741883), (134.621545702, -60.810273899))
            Line((134.621545702, -60.810273899), (134.621545702, -66.818791882))
            Line((134.621545702, -66.818791882), (135.415295702, -67.612541882))
            Line((135.415295702, -67.612541882), (138.15521867, -67.612541882))
        make_face()
    extrude(amount=BOSS_EXTRUDE1_DEPTH)

    # Sketch3 → Cut-Extrude2 (cut, through all)
    with BuildSketch(Plane.XY.offset(6.35)):
        with BuildLine():
            Line((-131.355294322, -62.171255574), (-131.355294322, -66.971191882))
            Line((-131.355294322, -66.971191882), (-131.507694322, -66.818791882))
            Line((-131.507694322, -66.818791882), (-131.507694322, -62.385073899))
            ThreePointArc((-131.507694322, -62.385073899), (-131.422591643, -62.284510162), (-131.355294322, -62.171255574))
        make_face()
        with BuildLine():
            Line((138.79656867, -62.171255574), (138.79656867, -66.971191882))
            Line((138.79656867, -66.971191882), (138.94896867, -66.818791882))
            Line((138.94896867, -66.818791882), (138.94896867, -62.385073899))
            ThreePointArc((138.94896867, -62.385073899), (138.86386599, -62.284510163), (138.79656867, -62.171255574))
        make_face()
    extrude(amount=-CUT_EXTRUDE2_DEPTH, mode=Mode.SUBTRACT)

    # Sketch4 → Cut-Extrude3 (cut, through all)
    with BuildSketch(Plane.XY.offset(6.35)):
        with BuildLine():
            Line((-85.408454296, -59.687741882), (-79.058454296, -59.687741882))
            Line((-79.058454296, -59.687741882), (-79.058454296, -53.337741882))
            ThreePointArc((-79.058454296, -53.337741882), (-82.233454296, -50.162741882), (-85.408454296, -53.337741882))
            Line((-85.408454296, -53.337741882), (-85.408454296, -59.687741882))
        make_face()
        with BuildLine():
            Line((86.4015457, -59.687741882), (86.4015457, -53.337741882))
            ThreePointArc((86.4015457, -53.337741882), (89.5765457, -50.162741882), (92.751545701, -53.337741882))
            Line((92.751545701, -53.337741882), (92.751545701, -59.687741882))
            Line((92.751545701, -59.687741882), (86.4015457, -59.687741882))
        make_face()
    extrude(amount=-CUT_EXTRUDE3_DEPTH, mode=Mode.SUBTRACT)

    # Sketch6 → Cut-Extrude4 (cut, through all)
    with BuildSketch(Plane.XY.offset(6.35)):
        with BuildLine():
            Line((-105.833547434, -30.787541882), (-105.833547434, -20.787541882))
            Line((-105.833547434, -20.787541882), (-100.209361158, -20.787541882))
            Line((-100.209361158, -20.787541882), (-100.209361158, -30.787541882))
            ThreePointArc((-100.209361158, -30.787541882), (-103.021454296, -33.59963502), (-105.833547434, -30.787541882))
        make_face()
    extrude(amount=-CUT_EXTRUDE4_DEPTH, mode=Mode.SUBTRACT)

    # Fillet1
    fillet1_edges = [part.edges().sort_by_distance(p)[0] for p in [
        (-85.408454296, -59.687741882, 3.175),
        (-79.058454296, -59.687741882, 3.175),
        (92.751545701, -59.687741882, 3.175),
        (86.4015457, -59.687741882, 3.175),
        (-105.833547434, -20.787541882, 3.175),
        (-100.209361158, -20.787541882, 3.175),
    ]]
    fillet(fillet1_edges, radius=FILLET1_R)

    # Sketch7 → Cut-Extrude5 (cut)
    with BuildSketch(Plane.XY.offset(6.35)):
        with Locations((-77.026454296, -57.655741882)):
            Circle(SKETCH7_R)
    cut_extrude5 = extrude(amount=-CUT_EXTRUDE5_DEPTH, mode=Mode.SUBTRACT)

    # LPattern1: Cut-Extrude5 ×4
    with Locations(*[(i * LPATTERN1_PITCH, 0, 0) for i in range(1, LPATTERN1_COUNT)]):
        add(cut_extrude5, mode=Mode.SUBTRACT)


solid = part.part
